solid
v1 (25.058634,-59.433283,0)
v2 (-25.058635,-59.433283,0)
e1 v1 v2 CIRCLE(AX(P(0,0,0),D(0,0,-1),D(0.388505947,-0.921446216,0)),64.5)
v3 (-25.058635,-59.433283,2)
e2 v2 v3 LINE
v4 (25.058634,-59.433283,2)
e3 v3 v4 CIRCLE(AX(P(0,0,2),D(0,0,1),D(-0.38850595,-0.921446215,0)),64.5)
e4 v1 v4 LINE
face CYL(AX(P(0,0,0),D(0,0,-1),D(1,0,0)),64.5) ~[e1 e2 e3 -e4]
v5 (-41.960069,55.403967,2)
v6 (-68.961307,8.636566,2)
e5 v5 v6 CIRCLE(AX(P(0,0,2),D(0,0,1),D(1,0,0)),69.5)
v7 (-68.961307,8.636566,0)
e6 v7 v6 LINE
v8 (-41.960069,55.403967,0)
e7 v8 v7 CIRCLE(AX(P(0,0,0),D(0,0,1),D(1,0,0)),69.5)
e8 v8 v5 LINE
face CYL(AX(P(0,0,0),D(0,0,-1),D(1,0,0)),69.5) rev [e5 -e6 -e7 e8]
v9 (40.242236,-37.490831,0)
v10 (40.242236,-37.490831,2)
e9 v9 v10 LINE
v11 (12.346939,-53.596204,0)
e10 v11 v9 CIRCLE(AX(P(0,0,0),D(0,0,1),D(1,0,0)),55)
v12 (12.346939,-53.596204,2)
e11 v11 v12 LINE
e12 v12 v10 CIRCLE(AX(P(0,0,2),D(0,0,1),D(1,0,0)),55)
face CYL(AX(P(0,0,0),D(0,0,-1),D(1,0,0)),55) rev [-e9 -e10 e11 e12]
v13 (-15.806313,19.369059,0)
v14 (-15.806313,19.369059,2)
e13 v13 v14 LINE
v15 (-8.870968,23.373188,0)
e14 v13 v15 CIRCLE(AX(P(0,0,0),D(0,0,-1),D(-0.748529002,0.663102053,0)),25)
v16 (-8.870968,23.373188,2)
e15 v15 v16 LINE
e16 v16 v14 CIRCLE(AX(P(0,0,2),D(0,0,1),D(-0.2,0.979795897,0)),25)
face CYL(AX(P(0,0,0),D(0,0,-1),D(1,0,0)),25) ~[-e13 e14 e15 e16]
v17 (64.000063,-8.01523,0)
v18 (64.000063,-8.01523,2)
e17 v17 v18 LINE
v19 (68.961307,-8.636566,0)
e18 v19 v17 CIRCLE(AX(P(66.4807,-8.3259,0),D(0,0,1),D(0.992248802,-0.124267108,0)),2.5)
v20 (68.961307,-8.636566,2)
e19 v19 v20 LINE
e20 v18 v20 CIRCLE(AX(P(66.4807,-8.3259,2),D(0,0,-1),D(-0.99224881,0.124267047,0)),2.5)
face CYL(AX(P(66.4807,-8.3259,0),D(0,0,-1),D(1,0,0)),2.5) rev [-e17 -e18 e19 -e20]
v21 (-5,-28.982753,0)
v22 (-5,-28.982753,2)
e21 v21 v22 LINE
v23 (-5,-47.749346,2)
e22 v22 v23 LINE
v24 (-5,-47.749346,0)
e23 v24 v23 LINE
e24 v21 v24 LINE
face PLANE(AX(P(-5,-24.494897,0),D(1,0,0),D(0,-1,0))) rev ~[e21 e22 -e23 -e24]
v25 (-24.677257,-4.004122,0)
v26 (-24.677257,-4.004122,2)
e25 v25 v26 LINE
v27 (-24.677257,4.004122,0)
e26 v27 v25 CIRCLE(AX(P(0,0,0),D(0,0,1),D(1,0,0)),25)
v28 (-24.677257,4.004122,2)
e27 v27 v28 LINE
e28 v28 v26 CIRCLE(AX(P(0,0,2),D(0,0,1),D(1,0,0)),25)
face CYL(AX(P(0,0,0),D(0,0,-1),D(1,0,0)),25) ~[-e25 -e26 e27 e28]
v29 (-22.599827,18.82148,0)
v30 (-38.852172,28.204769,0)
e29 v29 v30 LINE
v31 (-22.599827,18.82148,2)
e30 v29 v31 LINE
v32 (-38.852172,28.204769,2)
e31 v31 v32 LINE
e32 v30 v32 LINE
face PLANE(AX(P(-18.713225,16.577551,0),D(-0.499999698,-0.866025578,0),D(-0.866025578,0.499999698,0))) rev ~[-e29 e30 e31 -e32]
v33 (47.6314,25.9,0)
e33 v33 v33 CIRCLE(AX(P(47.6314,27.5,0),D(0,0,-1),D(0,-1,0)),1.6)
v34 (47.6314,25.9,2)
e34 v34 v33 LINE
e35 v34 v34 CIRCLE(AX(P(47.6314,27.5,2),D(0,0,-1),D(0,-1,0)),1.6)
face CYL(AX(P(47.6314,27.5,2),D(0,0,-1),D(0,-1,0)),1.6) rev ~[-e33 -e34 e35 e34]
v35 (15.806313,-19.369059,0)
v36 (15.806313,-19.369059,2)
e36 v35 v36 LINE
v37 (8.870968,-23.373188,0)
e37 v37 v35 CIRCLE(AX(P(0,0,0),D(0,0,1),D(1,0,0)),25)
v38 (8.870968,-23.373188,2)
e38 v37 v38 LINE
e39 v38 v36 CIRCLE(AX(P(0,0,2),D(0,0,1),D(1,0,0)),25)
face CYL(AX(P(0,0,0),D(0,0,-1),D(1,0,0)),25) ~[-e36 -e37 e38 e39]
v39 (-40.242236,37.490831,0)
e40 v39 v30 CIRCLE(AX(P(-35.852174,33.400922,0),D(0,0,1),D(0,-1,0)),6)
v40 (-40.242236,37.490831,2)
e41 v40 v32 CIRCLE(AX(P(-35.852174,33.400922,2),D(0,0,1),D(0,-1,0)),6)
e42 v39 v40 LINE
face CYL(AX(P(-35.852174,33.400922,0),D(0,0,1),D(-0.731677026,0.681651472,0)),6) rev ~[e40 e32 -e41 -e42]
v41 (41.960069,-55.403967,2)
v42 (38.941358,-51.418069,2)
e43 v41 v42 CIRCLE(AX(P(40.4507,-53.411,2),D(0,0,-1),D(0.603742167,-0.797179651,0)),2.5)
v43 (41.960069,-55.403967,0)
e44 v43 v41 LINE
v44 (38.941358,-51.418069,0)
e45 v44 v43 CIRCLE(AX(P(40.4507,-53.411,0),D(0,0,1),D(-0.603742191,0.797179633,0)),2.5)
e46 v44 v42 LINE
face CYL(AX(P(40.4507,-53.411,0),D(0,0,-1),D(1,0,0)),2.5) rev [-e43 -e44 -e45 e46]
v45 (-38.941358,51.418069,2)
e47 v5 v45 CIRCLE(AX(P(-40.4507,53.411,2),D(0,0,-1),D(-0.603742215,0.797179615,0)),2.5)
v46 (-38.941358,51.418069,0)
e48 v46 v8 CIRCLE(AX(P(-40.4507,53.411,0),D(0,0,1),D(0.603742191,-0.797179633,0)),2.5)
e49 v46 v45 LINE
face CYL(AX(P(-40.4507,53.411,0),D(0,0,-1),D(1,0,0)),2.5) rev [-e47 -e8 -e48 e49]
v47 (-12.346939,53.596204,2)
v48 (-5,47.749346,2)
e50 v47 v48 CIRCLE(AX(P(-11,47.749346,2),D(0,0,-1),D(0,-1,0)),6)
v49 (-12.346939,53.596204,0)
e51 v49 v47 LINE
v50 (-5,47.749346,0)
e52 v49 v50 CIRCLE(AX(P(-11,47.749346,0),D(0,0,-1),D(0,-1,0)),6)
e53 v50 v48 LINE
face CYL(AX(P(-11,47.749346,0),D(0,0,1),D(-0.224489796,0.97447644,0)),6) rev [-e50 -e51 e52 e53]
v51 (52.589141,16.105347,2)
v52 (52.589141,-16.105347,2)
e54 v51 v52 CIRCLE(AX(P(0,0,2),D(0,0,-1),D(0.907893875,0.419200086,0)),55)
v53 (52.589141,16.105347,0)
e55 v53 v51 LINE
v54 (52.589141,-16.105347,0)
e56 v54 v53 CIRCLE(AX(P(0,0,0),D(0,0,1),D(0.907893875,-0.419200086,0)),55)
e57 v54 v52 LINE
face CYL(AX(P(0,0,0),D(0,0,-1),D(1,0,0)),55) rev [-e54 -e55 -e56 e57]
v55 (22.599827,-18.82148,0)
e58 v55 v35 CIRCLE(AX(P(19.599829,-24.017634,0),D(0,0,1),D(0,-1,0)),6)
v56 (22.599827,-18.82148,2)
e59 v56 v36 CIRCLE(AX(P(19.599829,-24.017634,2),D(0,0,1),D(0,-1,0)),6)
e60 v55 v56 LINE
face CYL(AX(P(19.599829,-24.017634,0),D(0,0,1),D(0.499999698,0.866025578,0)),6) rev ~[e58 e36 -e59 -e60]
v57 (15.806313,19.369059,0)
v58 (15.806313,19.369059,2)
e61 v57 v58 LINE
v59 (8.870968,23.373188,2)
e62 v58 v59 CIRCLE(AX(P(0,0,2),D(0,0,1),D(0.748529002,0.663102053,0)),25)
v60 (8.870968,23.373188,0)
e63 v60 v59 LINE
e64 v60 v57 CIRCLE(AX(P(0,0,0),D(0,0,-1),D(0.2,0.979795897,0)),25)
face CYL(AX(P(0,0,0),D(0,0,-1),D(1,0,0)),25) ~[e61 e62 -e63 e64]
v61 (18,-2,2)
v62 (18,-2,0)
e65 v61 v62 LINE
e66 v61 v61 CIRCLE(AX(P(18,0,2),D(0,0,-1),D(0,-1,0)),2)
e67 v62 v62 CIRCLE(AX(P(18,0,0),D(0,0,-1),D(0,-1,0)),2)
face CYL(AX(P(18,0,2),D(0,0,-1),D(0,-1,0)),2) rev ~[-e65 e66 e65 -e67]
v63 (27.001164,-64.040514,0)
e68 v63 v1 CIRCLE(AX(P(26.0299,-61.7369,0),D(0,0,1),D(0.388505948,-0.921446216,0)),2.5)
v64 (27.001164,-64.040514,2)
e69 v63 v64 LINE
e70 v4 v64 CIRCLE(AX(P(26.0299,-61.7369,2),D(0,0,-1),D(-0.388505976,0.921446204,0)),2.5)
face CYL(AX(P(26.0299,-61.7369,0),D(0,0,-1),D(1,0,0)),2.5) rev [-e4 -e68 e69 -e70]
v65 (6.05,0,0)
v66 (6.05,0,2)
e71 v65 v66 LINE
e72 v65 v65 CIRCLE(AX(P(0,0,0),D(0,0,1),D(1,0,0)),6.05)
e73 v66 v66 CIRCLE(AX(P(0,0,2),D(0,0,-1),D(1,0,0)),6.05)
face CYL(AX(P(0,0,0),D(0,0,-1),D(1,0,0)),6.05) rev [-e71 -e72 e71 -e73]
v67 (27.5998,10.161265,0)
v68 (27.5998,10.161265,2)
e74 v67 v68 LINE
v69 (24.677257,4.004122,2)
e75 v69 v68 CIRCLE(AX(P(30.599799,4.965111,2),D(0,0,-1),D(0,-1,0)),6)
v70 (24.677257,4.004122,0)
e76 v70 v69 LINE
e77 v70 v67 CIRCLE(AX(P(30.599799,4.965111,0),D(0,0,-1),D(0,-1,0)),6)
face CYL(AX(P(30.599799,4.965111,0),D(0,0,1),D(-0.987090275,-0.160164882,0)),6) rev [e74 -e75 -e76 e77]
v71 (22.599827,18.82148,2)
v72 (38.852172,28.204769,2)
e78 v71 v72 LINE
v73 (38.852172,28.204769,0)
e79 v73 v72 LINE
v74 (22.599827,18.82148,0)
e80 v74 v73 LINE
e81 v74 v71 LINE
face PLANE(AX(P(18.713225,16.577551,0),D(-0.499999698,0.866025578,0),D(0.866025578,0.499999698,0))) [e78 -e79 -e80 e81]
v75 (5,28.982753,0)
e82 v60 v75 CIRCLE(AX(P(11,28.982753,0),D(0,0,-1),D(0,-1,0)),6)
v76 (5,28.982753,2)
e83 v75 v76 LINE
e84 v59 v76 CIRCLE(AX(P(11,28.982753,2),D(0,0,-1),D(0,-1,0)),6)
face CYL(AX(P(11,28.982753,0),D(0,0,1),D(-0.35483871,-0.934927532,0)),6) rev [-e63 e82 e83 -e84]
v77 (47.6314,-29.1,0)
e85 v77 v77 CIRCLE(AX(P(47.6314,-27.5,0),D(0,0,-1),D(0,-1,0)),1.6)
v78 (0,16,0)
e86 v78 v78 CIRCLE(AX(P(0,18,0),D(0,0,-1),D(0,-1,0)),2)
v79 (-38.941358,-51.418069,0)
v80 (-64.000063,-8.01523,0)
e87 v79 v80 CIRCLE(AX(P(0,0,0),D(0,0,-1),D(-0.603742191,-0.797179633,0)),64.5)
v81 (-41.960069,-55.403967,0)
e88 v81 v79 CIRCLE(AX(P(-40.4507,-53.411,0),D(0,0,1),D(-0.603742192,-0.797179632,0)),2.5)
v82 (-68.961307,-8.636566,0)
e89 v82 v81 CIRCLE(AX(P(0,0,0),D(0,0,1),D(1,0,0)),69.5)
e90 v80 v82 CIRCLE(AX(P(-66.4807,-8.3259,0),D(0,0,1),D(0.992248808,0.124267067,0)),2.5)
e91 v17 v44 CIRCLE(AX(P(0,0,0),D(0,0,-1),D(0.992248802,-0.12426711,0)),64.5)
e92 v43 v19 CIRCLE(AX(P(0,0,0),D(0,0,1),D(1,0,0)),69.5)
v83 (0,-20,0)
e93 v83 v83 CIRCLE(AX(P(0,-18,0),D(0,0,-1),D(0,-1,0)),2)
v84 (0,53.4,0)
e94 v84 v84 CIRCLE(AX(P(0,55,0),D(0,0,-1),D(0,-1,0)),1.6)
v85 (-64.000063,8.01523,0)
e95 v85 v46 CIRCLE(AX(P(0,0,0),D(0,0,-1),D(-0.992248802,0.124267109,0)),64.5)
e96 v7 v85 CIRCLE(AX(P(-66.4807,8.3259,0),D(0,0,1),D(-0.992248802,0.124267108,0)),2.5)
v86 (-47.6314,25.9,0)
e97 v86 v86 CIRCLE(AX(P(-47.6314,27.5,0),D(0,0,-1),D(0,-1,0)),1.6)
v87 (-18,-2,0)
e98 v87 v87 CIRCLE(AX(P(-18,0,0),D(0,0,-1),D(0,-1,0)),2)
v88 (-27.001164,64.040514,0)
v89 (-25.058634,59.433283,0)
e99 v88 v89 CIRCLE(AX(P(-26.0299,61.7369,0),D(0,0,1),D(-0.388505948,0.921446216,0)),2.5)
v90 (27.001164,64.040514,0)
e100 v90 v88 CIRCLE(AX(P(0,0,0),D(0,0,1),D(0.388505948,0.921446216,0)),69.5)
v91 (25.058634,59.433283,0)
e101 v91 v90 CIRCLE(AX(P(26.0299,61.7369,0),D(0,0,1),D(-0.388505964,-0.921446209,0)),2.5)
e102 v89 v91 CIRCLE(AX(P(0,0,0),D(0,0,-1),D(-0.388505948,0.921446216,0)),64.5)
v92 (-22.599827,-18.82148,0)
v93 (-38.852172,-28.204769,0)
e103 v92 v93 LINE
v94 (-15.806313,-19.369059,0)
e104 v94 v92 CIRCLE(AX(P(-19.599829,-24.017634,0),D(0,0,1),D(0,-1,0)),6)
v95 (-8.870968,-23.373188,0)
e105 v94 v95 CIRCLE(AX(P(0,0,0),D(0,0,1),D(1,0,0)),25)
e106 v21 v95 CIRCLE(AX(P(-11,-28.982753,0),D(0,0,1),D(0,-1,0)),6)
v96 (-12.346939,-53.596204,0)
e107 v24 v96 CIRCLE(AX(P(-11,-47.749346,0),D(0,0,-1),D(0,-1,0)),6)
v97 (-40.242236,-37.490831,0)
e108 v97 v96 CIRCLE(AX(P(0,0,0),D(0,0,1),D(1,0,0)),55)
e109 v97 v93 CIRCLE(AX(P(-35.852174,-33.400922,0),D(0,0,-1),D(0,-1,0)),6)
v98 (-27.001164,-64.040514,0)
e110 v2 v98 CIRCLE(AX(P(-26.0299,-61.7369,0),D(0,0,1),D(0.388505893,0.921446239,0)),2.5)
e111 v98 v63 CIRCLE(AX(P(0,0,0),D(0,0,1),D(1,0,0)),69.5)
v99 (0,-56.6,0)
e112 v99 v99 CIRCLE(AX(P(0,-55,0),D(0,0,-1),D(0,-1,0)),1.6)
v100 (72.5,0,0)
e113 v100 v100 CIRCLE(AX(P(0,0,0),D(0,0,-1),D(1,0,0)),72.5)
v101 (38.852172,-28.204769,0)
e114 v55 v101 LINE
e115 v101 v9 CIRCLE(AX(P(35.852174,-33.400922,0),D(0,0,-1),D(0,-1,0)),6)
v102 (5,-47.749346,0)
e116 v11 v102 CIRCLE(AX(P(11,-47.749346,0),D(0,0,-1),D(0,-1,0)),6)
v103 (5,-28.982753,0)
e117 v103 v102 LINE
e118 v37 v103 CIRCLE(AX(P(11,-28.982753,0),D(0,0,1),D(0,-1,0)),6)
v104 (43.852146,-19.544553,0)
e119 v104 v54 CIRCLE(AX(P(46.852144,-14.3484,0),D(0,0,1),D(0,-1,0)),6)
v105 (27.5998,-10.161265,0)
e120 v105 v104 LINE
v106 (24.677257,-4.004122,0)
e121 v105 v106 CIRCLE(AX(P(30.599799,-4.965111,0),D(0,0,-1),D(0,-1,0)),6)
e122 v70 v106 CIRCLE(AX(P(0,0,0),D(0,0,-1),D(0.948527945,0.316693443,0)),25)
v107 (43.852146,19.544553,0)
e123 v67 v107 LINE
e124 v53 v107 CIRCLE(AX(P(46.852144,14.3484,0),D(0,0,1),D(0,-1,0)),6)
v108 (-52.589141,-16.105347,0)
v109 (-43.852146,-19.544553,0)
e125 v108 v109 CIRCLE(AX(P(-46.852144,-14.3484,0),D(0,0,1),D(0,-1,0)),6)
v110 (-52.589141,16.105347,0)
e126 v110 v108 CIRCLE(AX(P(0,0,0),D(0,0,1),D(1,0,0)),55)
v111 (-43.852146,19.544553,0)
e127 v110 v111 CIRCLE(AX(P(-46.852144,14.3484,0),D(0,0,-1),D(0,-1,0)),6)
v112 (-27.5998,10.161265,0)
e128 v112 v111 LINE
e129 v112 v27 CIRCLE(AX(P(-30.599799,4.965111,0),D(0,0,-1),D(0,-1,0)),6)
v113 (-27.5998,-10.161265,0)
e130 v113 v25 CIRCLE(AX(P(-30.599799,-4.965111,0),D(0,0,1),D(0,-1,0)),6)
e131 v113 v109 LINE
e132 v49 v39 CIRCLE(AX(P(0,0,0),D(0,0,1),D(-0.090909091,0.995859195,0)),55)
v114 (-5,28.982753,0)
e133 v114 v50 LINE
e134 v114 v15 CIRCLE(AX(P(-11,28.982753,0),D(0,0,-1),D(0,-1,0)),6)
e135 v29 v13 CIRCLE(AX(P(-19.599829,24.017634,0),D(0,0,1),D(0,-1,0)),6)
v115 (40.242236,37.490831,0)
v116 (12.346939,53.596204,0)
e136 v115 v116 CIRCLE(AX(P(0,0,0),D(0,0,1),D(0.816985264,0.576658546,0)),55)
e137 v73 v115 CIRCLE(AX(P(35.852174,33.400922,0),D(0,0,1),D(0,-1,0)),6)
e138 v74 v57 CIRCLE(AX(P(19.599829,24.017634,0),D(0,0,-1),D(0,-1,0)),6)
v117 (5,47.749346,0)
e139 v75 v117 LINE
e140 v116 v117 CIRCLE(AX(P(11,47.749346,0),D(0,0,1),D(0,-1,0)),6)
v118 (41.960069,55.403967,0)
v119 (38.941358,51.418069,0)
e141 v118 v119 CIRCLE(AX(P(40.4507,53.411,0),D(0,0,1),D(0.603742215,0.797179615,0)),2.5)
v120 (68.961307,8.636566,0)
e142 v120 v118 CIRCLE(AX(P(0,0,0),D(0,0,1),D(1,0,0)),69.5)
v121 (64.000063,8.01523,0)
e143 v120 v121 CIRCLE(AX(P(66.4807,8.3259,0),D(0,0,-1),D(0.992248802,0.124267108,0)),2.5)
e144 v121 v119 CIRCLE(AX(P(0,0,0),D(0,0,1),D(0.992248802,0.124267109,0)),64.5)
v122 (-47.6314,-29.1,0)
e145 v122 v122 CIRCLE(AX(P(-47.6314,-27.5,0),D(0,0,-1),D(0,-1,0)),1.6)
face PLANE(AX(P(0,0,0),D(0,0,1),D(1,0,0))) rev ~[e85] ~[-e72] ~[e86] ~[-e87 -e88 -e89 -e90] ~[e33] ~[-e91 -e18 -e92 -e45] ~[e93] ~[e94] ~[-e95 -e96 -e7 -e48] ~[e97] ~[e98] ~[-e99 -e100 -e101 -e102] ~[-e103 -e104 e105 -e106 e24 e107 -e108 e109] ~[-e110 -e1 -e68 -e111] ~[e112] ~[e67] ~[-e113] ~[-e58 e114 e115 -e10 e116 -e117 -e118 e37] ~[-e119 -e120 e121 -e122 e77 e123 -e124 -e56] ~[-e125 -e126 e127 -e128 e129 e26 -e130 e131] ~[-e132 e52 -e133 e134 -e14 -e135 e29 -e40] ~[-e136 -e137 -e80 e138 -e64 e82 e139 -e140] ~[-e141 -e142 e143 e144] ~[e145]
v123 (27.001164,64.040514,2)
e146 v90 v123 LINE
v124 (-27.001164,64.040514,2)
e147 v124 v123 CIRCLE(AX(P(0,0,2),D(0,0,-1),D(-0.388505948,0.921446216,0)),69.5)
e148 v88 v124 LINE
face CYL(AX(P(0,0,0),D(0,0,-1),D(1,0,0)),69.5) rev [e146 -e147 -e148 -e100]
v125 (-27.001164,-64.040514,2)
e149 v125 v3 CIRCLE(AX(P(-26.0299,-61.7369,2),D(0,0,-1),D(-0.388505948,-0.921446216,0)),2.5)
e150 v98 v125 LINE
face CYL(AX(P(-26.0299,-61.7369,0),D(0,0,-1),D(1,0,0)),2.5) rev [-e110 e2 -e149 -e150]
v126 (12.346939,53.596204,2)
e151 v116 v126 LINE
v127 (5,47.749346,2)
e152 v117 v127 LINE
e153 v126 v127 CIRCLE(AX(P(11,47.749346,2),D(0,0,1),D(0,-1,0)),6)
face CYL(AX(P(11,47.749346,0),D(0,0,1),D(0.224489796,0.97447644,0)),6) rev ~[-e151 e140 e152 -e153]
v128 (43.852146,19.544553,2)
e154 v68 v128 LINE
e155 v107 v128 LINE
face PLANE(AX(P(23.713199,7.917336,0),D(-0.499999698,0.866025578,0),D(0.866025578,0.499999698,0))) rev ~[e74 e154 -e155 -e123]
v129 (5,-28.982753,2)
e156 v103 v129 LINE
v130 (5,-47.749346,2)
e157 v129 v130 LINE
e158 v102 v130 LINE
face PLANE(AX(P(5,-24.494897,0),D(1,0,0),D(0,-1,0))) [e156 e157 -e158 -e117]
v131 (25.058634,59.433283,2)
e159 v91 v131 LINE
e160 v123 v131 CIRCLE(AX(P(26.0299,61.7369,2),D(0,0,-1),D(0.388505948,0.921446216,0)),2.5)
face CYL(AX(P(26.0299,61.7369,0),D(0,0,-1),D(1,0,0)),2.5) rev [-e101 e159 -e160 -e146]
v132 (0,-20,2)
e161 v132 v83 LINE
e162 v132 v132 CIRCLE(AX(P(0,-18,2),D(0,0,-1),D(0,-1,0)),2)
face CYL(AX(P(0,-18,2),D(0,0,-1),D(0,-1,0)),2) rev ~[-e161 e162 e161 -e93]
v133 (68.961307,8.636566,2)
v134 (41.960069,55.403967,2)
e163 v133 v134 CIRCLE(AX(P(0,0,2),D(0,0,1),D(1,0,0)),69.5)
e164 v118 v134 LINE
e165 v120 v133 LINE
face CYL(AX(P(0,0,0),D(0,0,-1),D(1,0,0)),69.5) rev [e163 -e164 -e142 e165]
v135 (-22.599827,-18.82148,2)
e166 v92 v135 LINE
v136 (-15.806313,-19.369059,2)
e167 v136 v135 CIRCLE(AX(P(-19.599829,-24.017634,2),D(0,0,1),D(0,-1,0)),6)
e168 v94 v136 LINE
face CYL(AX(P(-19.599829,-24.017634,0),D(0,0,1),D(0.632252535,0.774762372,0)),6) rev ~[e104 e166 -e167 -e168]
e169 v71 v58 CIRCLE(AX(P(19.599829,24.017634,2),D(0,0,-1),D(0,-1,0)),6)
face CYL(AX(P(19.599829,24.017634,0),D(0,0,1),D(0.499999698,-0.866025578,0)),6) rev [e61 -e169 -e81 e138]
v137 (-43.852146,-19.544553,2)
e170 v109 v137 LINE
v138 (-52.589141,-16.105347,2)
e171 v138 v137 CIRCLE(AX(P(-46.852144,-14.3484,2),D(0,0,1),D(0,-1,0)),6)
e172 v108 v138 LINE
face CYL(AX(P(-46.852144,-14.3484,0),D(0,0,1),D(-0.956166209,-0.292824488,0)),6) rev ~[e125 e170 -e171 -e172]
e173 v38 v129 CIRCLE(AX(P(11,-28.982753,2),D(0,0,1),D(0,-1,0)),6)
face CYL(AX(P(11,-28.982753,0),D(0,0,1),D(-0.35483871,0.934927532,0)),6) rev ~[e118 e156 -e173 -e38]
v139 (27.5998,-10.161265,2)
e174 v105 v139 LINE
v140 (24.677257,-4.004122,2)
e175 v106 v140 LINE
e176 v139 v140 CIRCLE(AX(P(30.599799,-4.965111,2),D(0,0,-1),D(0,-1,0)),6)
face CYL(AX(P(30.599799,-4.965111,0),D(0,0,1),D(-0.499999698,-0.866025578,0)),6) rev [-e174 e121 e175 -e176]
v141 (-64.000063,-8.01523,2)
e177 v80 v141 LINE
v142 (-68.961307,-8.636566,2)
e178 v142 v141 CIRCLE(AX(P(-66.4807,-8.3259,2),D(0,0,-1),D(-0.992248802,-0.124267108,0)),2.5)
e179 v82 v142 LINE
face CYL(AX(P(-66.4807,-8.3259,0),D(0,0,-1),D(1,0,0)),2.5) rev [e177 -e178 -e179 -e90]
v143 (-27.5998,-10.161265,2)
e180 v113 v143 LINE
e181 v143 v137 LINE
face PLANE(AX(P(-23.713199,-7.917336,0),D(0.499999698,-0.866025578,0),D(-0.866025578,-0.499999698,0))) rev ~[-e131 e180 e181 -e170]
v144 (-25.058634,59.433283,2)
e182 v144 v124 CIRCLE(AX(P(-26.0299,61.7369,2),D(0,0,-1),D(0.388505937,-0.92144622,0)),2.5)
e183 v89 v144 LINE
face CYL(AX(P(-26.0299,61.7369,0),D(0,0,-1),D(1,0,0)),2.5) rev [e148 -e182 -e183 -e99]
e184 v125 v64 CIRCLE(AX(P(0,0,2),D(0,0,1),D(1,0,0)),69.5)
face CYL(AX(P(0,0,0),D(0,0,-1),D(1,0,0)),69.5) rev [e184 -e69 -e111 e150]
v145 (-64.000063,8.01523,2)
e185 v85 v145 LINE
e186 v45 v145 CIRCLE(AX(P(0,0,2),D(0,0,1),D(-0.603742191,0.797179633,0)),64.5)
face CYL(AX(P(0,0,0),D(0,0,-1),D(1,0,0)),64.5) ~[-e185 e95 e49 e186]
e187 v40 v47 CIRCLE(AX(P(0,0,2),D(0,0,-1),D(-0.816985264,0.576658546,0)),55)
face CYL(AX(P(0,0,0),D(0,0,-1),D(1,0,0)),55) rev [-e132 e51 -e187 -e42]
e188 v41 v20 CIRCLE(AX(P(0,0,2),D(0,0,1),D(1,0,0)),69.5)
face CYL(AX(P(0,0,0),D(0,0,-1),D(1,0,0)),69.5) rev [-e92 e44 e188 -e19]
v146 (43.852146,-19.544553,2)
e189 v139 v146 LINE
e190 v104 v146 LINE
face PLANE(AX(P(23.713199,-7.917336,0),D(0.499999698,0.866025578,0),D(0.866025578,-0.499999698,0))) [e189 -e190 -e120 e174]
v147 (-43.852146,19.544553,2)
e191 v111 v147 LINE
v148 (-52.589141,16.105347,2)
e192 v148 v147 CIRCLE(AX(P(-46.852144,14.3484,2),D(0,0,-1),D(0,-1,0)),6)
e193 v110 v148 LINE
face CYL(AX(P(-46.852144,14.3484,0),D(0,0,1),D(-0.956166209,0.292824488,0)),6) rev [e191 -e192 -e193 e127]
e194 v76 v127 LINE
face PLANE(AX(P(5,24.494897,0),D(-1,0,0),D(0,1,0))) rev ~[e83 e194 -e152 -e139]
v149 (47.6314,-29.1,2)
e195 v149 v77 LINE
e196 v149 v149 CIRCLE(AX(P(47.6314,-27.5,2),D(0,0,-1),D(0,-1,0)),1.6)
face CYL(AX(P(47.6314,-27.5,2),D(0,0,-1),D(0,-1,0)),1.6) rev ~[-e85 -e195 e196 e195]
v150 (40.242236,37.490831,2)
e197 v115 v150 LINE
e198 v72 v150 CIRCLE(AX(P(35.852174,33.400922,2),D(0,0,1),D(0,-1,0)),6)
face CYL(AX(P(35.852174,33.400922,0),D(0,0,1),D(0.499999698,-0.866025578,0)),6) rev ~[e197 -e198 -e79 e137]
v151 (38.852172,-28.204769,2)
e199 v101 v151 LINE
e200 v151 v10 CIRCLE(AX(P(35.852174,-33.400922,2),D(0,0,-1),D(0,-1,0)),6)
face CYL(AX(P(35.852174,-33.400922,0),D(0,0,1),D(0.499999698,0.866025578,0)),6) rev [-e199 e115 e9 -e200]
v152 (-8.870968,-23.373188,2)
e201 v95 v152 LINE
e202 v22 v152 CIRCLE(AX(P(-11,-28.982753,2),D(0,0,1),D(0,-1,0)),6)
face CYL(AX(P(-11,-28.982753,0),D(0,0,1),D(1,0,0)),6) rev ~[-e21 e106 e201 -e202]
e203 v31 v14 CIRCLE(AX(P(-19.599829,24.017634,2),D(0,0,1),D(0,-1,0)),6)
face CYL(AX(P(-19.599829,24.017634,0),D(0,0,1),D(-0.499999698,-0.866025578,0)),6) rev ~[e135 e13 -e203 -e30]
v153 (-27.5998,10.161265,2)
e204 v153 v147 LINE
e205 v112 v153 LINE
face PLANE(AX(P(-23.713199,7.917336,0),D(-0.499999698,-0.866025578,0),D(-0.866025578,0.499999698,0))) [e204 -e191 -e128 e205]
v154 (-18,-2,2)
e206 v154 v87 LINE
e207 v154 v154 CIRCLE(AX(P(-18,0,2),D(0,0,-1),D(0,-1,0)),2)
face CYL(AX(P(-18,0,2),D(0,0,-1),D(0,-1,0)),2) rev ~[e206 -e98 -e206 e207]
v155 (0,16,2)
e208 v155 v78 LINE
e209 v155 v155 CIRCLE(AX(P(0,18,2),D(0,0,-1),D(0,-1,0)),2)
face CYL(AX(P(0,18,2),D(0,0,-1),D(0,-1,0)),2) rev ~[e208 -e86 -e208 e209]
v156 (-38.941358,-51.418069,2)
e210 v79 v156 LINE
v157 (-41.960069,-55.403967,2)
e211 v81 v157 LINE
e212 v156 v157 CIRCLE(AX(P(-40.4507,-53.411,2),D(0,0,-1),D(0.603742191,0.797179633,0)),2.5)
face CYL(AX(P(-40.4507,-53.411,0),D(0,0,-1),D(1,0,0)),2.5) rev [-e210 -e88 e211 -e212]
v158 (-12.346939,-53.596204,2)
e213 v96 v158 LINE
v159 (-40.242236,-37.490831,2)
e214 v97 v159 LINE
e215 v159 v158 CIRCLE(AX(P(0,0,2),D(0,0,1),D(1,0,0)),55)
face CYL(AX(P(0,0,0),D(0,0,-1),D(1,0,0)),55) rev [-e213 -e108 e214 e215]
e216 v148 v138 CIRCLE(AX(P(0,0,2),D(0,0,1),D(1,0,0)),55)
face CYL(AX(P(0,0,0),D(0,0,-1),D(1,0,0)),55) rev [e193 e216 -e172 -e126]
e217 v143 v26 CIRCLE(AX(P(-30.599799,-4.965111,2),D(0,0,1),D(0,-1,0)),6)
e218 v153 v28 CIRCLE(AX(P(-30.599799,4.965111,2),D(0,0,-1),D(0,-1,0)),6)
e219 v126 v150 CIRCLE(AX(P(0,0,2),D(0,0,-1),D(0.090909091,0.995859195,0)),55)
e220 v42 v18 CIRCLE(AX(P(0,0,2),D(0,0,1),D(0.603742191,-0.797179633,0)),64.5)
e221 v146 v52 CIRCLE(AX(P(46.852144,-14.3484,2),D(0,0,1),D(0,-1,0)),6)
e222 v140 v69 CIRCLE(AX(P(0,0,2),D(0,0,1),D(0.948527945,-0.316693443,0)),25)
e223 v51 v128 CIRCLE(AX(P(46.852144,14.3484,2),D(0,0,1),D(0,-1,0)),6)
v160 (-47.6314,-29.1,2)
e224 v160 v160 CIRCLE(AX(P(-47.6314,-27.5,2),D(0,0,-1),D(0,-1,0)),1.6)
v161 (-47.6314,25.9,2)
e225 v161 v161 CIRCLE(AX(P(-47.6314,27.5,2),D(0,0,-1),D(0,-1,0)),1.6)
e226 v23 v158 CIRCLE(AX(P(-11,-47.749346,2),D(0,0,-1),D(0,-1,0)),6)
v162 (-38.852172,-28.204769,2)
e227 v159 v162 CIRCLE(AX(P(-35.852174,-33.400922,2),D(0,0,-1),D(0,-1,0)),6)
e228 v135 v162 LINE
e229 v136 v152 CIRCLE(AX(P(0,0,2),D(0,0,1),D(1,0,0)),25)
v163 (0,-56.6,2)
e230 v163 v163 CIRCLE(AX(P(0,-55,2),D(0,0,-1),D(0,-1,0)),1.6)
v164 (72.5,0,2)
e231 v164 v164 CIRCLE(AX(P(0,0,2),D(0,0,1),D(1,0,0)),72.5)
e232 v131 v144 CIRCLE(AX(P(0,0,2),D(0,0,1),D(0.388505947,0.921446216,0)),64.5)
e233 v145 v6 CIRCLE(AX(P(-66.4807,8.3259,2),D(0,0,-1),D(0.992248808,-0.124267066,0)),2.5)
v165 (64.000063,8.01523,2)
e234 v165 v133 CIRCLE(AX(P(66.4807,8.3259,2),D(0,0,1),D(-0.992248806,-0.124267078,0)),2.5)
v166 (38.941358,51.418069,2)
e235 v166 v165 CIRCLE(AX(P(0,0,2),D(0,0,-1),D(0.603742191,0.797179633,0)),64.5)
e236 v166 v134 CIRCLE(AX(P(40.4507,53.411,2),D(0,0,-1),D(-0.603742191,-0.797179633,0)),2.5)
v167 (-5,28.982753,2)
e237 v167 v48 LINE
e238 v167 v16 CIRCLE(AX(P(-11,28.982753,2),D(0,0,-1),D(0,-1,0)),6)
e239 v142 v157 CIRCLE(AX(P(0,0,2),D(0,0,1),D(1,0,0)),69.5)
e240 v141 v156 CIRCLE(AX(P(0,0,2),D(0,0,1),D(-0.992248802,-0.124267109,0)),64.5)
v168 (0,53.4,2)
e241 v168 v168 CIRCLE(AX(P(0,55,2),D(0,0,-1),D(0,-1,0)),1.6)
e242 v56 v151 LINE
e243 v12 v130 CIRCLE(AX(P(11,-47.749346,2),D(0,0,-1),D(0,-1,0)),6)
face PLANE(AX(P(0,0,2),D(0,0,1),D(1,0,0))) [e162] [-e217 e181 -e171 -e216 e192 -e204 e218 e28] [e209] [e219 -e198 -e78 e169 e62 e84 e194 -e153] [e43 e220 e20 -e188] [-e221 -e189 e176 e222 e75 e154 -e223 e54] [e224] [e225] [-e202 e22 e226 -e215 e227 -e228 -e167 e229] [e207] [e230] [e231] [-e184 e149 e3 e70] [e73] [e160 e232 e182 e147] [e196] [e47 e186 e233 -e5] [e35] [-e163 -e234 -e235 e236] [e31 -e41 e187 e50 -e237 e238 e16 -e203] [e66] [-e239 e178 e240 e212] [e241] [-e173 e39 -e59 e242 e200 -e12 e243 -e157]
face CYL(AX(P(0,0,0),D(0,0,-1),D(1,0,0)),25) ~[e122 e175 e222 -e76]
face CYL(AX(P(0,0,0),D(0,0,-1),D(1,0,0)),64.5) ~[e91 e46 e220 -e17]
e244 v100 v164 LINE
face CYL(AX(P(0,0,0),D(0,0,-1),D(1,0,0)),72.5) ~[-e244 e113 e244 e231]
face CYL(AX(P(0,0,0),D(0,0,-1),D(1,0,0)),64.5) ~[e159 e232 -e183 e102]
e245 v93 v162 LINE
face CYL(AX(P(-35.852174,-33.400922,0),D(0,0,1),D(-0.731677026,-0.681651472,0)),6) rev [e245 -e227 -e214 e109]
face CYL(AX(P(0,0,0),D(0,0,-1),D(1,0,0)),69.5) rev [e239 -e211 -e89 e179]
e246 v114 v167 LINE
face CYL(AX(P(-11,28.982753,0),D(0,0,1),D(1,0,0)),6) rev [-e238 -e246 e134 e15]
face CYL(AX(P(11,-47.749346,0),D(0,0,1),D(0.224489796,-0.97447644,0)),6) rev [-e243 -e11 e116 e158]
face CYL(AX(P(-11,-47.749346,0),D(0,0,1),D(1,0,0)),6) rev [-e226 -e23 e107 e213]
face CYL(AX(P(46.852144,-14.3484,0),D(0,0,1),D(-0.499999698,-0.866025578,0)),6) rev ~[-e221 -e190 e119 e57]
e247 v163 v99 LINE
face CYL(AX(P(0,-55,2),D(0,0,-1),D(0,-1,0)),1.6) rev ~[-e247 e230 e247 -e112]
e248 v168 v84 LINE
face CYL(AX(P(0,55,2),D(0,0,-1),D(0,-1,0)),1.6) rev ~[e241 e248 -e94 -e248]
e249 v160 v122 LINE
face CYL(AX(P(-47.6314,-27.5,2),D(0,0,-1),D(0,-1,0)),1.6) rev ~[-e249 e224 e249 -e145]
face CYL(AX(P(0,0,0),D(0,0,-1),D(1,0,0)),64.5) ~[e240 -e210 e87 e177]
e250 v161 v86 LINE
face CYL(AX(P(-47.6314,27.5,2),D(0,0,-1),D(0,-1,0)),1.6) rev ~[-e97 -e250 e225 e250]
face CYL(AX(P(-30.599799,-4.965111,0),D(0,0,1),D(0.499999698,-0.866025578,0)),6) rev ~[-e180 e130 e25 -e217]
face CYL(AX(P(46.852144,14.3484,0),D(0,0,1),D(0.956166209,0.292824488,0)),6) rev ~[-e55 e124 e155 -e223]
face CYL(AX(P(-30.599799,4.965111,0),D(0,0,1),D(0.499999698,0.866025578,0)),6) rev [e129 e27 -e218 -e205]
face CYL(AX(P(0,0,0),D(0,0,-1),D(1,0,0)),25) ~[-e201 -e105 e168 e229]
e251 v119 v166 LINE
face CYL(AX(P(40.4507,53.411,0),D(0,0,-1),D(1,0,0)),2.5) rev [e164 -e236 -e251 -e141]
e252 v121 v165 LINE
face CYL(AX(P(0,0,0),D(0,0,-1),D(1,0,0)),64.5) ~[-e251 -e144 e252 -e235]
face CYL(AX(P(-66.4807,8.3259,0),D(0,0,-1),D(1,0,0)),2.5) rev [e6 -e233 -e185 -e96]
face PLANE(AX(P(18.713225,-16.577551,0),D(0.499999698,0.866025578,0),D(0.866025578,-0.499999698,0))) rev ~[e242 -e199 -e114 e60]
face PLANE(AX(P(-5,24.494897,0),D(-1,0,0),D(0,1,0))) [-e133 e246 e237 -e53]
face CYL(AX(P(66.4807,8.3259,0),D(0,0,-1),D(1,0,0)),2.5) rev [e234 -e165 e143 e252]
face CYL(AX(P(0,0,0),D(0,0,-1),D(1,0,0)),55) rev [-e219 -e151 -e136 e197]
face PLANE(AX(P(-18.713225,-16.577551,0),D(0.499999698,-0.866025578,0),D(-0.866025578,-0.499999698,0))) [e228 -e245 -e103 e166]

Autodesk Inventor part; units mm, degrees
ref_plane "YZ Plane" through (0, 0, 0) normal (1, 0, 0) x (0, 1, 0)
ref_plane "XZ Plane" through (0, 0, 0) normal (0, 1, 0) x (-1, 0, 0)
ref_plane "XY Plane" through (0, 0, 0) normal (0, 0, 1) x (1, 0, 0)
sketch "スケッチ1" plane through (0, 0, 0) normal (0, 0, 1) x (1, 0, 0)
  circle A0 centre (0, 0) radius 65
  circle A1 centre (0, 0) radius 55
  circle A2 centre (0, 0) radius 25
  line L0 (0, 0) -> (0, 65)
  circle A3 centre (0, 0) radius 6.05
  line L1 (5, 0) -> (5, 64.8074)
  line L2 (5, 0) -> (69.8074, 0) construction
  line L3 (-5, 0) -> (-5, 64.8074)
  line L4 (-2.5, -4.3301) -> (-58.6249, 28.0736)
  line L5 (2.5, 4.3301) -> (-53.6249, 36.7338)
  line L6 (2.5, -4.3301) -> (-53.6249, -36.7338)
  line L7 (-2.5, 4.3301) -> (-58.6249, -28.0736)
  line L8 (5, 0) -> (5, -64.8074)
  line L9 (-5, 0) -> (-5, -64.8074)
  line L10 (2.5, 4.3301) -> (58.6249, -28.0736)
  line L11 (-2.5, -4.3301) -> (53.6249, -36.7338)
  line L12 (-2.5, 4.3301) -> (53.6249, 36.7338)
  line L13 (2.5, -4.3301) -> (58.6249, 28.0736)
  circle A4 centre (0, 0) radius 72.5
  line L14 (0, 0) -> (36.25, 62.7868)
  line L15 (0, 0) -> (72.5, 0) construction
  line L16 (0, 0) -> (30.6398, 65.7073)
  line L17 (0, 0) -> (72.5, 0) construction
  line L18 (0, 0) -> (41.5843, 59.3885)
  line L19 (0, 0) -> (72.5, 0) construction
  line L20 (0, 65) -> (0, 72.5)
  circle A5 centre (0, 0) radius 69.5
  circle A6 centre (0, 0) radius 64.5
  circle A7 centre (26.0299, 61.7369) radius 2.5
  line L21 (0, 0) -> (-30.6398, 65.7073)
  circle A8 centre (-26.0299, 61.7369) radius 2.5
  circle A9 centre (-40.4507, 53.411) radius 2.5
  circle A10 centre (-66.4807, 8.3259) radius 2.5
  circle A11 centre (-66.4807, -8.3259) radius 2.5
  circle A12 centre (-40.4507, -53.411) radius 2.5
  circle A13 centre (-26.0299, -61.7369) radius 2.5
  circle A14 centre (26.0299, -61.7369) radius 2.5
  circle A15 centre (40.4507, -53.411) radius 2.5
  circle A16 centre (66.4807, -8.3259) radius 2.5
  circle A17 centre (66.4807, 8.3259) radius 2.5
  circle A18 centre (40.4507, 53.411) radius 2.5
  point P0 (5, 54.7723)
  point P1 (44.9342, 31.7163)
  point P2 (18.7132, 16.5776)
  point P3 (5, 24.4949)
  point P4 (-5, 54.7723)
  point P5 (-5, 24.4949)
  point P6 (-18.7132, 16.5776)
  point P7 (-44.9342, 31.7163)
  point P8 (49.9342, -23.056)
  point P9 (23.7132, -7.9173)
  point P10 (23.7132, 7.9173)
  point P11 (49.9342, 23.056)
  point P12 (5, -54.7723)
  point P13 (5, -24.4949)
  point P14 (18.7132, -16.5776)
  point P15 (44.9342, -31.7163)
  point P16 (-44.9342, -31.7163)
  point P17 (-18.7132, -16.5776)
  point P18 (-5, -24.4949)
  point P19 (-5, -54.7723)
  point P20 (-49.9342, 23.056)
  point P21 (-23.7132, 7.9173)
  point P22 (-23.7132, -7.9173)
  point P23 (-49.9342, -23.056)
  point P24 (27.4702, 58.91)
  point P25 (28.2957, 60.6803)
  point P26 (25.0587, 59.4333)
  point P27 (-25.0587, 59.4333)
  point P28 (-28.2957, 60.6803)
  point P29 (-27.4702, 58.91)
  point P30 (-26.6077, 59.3046)
  point P31 (-27.0012, 64.0405)
  point P32 (27.0012, 64.0405)
  point P33 (26.6077, 59.3046)
  point P34 (37.2825, 53.2449)
  point P35 (-64.0001, 8.0152)
  point P36 (-68.9613, 8.6365)
  point P37 (-41.9601, 55.404)
  point P38 (-38.9414, 51.4181)
  point P39 (25.0587, -59.4333)
  point P40 (27.0012, -64.0405)
  point P41 (-27.0012, -64.0405)
  point P42 (-25.0587, -59.4333)
  point P43 (38.9414, 51.4181)
  point P44 (41.9601, 55.404)
  point P45 (68.9613, 8.6365)
  point P46 (64.0001, 8.0152)
  point P47 (64.0001, -8.0152)
  point P48 (68.9613, -8.6365)
  point P49 (41.9601, -55.404)
  point P50 (38.9414, -51.4181)
  point P51 (-38.9414, -51.4181)
  point P52 (-41.9601, -55.404)
  point P53 (-68.9613, -8.6365)
  point P54 (-64.0001, -8.0152)
  dimension "d0" = 130
  dimension "d1" = 110
  dimension "d2" = 50
  dimension "d3" = 12.1
  dimension "d4" = 90
  dimension "d7" = 360
  dimension "d36" = 145
  dimension "d37" = 72.5
  dimension "d38" = 60
  dimension "d39" = 65
  dimension "d40" = 55
  dimension "d41" = 139
  dimension "d42" = 129
  dimension "d43" = 5
  dimension "d50" = 360
extrude "押し出し1" add sketch "スケッチ1" along normal blind 2 contours A6 L10 A1 L13 | L13 A1 L12 A6 | L12 A1 L18 A6 | A17 A5 A16 A0 | A0 A16 A6 A17 | A5 L18 A4 L21 | L13 A2 L12 A1 | A18 A6 L18 A0 | A0 L18 A18 | A18 L18 A5 | L13 L10 A3 L1 L18 L12 A2 | A2 L10 L13 | L18 A6 L14 A0 | A0 L14 A5 L18 | L18 A1 L14 A6 | L12 L18 A2 | A5 L14 A4 L18 | L10 A6 L11 A1 | A1 L11 A2 L10 | L13 A3 L10 | L10 A2 L11 L8 A3 L13 | L14 A6 L16 A0 | A0 L16 A5 L14 | L14 A1 L16 A6 | L18 L12 L14 A2 | L18 L1 L12 | A5 A14 A0 A15 | A5 L16 A4 L14 | L11 A6 L8 A1 | L16 A6 A7 A0 | A0 A7 L16 | L16 A1 L1 A6 | L14 L1 L16 A2 | L12 L16 L1 | L14 A3 L16 L12 | L1 L18 A3 L14 | L1 A3 L18 | A0 A14 A6 A15 | A5 L20 A4 L16 | L16 A7 A5 | L8 A6 L9 A1 | A1 L9 A2 L8 | A2 L8 L11 | L8 L11 A3 | L1 A2 L0 A1 | A1 L0 A6 L1 | L16 L1 A2 | L16 L12 A3 L0 A2 L1 | L16 A3 L12 | A5 A12 A0 A13 | A4 L20 A5 L21 | L9 A6 L6 A1 | A2 L9 L6 A3 L11 L8 | L0 A2 L3 A1 | A1 L3 A6 L0 | A0 A12 A6 A13 | L21 A0 A9 A5 | A5 A8 L21 | L6 A6 L7 A1 | A1 L7 A2 L6 | A2 L6 L9 | L6 L9 A3 | A1 L21 A6 L3 | L0 A3 L5 L21 L3 A2 | A5 A10 A0 A11 | A8 A0 L21 | L7 A6 L4 A1 | A2 L7 L4 A3 L9 L6 | A1 L5 A6 L21 | L3 L21 A2 | A3 L21 L5 | A0 A10 A6 A11 | L21 A6 A9 A0 | A0 A8 A6 L21 | L4 A6 L5 A1 | A1 L5 A2 L4 | A2 L4 L7 | A3 L3 L5 L21 | L4 L7 A3 | L21 L3 L5 A2 | L21 L5 L3 | A2 L5 L3 A3 L7 L4
sketch "スケッチ2" plane through (0, 0, 2) normal (0, 0, 1) x (1, 0, 0)
  point P0 (0, 0)
  point P1 (0, 18)
  point P2 (-18, 0)
  point P3 (0, -18)
  point P4 (18, 0)
  point P5 (0, 55)
  point P6 (-47.6314, 27.5)
  point P7 (-47.6314, -27.5)
  point P8 (0, -55)
  point P9 (47.6314, -27.5)
  point P10 (47.6314, 27.5)
  dimension "d11" = 18
  dimension "d14" = 360
  dimension "d16" = 55
  dimension "d19" = 360
hole "穴1" at (0, 18, 2) at (-18, 0, 2) at (0, -18, 2) at (18, 0, 2) direction (0, 0, -1) diameter 4 end through all
hole "穴2" at (0, 55, 2) at (-47.6314, 27.5, 2) at (-47.6314, -27.5, 2) at (0, -55, 2) at (47.6314, -27.5, 2) at (47.6314, 27.5, 2) direction (0, 0, -1) diameter 3.2 end through all
fillet "フィレット1" radius 6 24 edges at (-49.9342, 23.056, 1) (-49.9342, -23.056, 1) (-23.7132, -7.9173, 1) (-23.7132, 7.9173, 1) (-44.9342, 31.7163, 1) (-18.7132, 16.5776, 1) (-5, 24.4949, 1) (-5, 54.7723, 1) (5, 54.7723, 1) (5, 24.4949, 1) (18.7132, 16.5776, 1) (44.9342, 31.7163, 1) (49.9342, 23.056, 1) (23.7132, 7.9173, 1) (23.7132, -7.9173, 1) (49.9342, -23.056, 1) (44.9342, -31.7163, 1) (18.7132, -16.5776, 1) (5, -24.4949, 1) (5, -54.7723, 1) (-5, -54.7723, 1) (-5, -24.4949, 1) (-18.7132, -16.5776, 1) (-44.9342, -31.7163, 1)
properties part number "TH22_tire_3rd_POM" material "アルミニウム 6061-AHC"
